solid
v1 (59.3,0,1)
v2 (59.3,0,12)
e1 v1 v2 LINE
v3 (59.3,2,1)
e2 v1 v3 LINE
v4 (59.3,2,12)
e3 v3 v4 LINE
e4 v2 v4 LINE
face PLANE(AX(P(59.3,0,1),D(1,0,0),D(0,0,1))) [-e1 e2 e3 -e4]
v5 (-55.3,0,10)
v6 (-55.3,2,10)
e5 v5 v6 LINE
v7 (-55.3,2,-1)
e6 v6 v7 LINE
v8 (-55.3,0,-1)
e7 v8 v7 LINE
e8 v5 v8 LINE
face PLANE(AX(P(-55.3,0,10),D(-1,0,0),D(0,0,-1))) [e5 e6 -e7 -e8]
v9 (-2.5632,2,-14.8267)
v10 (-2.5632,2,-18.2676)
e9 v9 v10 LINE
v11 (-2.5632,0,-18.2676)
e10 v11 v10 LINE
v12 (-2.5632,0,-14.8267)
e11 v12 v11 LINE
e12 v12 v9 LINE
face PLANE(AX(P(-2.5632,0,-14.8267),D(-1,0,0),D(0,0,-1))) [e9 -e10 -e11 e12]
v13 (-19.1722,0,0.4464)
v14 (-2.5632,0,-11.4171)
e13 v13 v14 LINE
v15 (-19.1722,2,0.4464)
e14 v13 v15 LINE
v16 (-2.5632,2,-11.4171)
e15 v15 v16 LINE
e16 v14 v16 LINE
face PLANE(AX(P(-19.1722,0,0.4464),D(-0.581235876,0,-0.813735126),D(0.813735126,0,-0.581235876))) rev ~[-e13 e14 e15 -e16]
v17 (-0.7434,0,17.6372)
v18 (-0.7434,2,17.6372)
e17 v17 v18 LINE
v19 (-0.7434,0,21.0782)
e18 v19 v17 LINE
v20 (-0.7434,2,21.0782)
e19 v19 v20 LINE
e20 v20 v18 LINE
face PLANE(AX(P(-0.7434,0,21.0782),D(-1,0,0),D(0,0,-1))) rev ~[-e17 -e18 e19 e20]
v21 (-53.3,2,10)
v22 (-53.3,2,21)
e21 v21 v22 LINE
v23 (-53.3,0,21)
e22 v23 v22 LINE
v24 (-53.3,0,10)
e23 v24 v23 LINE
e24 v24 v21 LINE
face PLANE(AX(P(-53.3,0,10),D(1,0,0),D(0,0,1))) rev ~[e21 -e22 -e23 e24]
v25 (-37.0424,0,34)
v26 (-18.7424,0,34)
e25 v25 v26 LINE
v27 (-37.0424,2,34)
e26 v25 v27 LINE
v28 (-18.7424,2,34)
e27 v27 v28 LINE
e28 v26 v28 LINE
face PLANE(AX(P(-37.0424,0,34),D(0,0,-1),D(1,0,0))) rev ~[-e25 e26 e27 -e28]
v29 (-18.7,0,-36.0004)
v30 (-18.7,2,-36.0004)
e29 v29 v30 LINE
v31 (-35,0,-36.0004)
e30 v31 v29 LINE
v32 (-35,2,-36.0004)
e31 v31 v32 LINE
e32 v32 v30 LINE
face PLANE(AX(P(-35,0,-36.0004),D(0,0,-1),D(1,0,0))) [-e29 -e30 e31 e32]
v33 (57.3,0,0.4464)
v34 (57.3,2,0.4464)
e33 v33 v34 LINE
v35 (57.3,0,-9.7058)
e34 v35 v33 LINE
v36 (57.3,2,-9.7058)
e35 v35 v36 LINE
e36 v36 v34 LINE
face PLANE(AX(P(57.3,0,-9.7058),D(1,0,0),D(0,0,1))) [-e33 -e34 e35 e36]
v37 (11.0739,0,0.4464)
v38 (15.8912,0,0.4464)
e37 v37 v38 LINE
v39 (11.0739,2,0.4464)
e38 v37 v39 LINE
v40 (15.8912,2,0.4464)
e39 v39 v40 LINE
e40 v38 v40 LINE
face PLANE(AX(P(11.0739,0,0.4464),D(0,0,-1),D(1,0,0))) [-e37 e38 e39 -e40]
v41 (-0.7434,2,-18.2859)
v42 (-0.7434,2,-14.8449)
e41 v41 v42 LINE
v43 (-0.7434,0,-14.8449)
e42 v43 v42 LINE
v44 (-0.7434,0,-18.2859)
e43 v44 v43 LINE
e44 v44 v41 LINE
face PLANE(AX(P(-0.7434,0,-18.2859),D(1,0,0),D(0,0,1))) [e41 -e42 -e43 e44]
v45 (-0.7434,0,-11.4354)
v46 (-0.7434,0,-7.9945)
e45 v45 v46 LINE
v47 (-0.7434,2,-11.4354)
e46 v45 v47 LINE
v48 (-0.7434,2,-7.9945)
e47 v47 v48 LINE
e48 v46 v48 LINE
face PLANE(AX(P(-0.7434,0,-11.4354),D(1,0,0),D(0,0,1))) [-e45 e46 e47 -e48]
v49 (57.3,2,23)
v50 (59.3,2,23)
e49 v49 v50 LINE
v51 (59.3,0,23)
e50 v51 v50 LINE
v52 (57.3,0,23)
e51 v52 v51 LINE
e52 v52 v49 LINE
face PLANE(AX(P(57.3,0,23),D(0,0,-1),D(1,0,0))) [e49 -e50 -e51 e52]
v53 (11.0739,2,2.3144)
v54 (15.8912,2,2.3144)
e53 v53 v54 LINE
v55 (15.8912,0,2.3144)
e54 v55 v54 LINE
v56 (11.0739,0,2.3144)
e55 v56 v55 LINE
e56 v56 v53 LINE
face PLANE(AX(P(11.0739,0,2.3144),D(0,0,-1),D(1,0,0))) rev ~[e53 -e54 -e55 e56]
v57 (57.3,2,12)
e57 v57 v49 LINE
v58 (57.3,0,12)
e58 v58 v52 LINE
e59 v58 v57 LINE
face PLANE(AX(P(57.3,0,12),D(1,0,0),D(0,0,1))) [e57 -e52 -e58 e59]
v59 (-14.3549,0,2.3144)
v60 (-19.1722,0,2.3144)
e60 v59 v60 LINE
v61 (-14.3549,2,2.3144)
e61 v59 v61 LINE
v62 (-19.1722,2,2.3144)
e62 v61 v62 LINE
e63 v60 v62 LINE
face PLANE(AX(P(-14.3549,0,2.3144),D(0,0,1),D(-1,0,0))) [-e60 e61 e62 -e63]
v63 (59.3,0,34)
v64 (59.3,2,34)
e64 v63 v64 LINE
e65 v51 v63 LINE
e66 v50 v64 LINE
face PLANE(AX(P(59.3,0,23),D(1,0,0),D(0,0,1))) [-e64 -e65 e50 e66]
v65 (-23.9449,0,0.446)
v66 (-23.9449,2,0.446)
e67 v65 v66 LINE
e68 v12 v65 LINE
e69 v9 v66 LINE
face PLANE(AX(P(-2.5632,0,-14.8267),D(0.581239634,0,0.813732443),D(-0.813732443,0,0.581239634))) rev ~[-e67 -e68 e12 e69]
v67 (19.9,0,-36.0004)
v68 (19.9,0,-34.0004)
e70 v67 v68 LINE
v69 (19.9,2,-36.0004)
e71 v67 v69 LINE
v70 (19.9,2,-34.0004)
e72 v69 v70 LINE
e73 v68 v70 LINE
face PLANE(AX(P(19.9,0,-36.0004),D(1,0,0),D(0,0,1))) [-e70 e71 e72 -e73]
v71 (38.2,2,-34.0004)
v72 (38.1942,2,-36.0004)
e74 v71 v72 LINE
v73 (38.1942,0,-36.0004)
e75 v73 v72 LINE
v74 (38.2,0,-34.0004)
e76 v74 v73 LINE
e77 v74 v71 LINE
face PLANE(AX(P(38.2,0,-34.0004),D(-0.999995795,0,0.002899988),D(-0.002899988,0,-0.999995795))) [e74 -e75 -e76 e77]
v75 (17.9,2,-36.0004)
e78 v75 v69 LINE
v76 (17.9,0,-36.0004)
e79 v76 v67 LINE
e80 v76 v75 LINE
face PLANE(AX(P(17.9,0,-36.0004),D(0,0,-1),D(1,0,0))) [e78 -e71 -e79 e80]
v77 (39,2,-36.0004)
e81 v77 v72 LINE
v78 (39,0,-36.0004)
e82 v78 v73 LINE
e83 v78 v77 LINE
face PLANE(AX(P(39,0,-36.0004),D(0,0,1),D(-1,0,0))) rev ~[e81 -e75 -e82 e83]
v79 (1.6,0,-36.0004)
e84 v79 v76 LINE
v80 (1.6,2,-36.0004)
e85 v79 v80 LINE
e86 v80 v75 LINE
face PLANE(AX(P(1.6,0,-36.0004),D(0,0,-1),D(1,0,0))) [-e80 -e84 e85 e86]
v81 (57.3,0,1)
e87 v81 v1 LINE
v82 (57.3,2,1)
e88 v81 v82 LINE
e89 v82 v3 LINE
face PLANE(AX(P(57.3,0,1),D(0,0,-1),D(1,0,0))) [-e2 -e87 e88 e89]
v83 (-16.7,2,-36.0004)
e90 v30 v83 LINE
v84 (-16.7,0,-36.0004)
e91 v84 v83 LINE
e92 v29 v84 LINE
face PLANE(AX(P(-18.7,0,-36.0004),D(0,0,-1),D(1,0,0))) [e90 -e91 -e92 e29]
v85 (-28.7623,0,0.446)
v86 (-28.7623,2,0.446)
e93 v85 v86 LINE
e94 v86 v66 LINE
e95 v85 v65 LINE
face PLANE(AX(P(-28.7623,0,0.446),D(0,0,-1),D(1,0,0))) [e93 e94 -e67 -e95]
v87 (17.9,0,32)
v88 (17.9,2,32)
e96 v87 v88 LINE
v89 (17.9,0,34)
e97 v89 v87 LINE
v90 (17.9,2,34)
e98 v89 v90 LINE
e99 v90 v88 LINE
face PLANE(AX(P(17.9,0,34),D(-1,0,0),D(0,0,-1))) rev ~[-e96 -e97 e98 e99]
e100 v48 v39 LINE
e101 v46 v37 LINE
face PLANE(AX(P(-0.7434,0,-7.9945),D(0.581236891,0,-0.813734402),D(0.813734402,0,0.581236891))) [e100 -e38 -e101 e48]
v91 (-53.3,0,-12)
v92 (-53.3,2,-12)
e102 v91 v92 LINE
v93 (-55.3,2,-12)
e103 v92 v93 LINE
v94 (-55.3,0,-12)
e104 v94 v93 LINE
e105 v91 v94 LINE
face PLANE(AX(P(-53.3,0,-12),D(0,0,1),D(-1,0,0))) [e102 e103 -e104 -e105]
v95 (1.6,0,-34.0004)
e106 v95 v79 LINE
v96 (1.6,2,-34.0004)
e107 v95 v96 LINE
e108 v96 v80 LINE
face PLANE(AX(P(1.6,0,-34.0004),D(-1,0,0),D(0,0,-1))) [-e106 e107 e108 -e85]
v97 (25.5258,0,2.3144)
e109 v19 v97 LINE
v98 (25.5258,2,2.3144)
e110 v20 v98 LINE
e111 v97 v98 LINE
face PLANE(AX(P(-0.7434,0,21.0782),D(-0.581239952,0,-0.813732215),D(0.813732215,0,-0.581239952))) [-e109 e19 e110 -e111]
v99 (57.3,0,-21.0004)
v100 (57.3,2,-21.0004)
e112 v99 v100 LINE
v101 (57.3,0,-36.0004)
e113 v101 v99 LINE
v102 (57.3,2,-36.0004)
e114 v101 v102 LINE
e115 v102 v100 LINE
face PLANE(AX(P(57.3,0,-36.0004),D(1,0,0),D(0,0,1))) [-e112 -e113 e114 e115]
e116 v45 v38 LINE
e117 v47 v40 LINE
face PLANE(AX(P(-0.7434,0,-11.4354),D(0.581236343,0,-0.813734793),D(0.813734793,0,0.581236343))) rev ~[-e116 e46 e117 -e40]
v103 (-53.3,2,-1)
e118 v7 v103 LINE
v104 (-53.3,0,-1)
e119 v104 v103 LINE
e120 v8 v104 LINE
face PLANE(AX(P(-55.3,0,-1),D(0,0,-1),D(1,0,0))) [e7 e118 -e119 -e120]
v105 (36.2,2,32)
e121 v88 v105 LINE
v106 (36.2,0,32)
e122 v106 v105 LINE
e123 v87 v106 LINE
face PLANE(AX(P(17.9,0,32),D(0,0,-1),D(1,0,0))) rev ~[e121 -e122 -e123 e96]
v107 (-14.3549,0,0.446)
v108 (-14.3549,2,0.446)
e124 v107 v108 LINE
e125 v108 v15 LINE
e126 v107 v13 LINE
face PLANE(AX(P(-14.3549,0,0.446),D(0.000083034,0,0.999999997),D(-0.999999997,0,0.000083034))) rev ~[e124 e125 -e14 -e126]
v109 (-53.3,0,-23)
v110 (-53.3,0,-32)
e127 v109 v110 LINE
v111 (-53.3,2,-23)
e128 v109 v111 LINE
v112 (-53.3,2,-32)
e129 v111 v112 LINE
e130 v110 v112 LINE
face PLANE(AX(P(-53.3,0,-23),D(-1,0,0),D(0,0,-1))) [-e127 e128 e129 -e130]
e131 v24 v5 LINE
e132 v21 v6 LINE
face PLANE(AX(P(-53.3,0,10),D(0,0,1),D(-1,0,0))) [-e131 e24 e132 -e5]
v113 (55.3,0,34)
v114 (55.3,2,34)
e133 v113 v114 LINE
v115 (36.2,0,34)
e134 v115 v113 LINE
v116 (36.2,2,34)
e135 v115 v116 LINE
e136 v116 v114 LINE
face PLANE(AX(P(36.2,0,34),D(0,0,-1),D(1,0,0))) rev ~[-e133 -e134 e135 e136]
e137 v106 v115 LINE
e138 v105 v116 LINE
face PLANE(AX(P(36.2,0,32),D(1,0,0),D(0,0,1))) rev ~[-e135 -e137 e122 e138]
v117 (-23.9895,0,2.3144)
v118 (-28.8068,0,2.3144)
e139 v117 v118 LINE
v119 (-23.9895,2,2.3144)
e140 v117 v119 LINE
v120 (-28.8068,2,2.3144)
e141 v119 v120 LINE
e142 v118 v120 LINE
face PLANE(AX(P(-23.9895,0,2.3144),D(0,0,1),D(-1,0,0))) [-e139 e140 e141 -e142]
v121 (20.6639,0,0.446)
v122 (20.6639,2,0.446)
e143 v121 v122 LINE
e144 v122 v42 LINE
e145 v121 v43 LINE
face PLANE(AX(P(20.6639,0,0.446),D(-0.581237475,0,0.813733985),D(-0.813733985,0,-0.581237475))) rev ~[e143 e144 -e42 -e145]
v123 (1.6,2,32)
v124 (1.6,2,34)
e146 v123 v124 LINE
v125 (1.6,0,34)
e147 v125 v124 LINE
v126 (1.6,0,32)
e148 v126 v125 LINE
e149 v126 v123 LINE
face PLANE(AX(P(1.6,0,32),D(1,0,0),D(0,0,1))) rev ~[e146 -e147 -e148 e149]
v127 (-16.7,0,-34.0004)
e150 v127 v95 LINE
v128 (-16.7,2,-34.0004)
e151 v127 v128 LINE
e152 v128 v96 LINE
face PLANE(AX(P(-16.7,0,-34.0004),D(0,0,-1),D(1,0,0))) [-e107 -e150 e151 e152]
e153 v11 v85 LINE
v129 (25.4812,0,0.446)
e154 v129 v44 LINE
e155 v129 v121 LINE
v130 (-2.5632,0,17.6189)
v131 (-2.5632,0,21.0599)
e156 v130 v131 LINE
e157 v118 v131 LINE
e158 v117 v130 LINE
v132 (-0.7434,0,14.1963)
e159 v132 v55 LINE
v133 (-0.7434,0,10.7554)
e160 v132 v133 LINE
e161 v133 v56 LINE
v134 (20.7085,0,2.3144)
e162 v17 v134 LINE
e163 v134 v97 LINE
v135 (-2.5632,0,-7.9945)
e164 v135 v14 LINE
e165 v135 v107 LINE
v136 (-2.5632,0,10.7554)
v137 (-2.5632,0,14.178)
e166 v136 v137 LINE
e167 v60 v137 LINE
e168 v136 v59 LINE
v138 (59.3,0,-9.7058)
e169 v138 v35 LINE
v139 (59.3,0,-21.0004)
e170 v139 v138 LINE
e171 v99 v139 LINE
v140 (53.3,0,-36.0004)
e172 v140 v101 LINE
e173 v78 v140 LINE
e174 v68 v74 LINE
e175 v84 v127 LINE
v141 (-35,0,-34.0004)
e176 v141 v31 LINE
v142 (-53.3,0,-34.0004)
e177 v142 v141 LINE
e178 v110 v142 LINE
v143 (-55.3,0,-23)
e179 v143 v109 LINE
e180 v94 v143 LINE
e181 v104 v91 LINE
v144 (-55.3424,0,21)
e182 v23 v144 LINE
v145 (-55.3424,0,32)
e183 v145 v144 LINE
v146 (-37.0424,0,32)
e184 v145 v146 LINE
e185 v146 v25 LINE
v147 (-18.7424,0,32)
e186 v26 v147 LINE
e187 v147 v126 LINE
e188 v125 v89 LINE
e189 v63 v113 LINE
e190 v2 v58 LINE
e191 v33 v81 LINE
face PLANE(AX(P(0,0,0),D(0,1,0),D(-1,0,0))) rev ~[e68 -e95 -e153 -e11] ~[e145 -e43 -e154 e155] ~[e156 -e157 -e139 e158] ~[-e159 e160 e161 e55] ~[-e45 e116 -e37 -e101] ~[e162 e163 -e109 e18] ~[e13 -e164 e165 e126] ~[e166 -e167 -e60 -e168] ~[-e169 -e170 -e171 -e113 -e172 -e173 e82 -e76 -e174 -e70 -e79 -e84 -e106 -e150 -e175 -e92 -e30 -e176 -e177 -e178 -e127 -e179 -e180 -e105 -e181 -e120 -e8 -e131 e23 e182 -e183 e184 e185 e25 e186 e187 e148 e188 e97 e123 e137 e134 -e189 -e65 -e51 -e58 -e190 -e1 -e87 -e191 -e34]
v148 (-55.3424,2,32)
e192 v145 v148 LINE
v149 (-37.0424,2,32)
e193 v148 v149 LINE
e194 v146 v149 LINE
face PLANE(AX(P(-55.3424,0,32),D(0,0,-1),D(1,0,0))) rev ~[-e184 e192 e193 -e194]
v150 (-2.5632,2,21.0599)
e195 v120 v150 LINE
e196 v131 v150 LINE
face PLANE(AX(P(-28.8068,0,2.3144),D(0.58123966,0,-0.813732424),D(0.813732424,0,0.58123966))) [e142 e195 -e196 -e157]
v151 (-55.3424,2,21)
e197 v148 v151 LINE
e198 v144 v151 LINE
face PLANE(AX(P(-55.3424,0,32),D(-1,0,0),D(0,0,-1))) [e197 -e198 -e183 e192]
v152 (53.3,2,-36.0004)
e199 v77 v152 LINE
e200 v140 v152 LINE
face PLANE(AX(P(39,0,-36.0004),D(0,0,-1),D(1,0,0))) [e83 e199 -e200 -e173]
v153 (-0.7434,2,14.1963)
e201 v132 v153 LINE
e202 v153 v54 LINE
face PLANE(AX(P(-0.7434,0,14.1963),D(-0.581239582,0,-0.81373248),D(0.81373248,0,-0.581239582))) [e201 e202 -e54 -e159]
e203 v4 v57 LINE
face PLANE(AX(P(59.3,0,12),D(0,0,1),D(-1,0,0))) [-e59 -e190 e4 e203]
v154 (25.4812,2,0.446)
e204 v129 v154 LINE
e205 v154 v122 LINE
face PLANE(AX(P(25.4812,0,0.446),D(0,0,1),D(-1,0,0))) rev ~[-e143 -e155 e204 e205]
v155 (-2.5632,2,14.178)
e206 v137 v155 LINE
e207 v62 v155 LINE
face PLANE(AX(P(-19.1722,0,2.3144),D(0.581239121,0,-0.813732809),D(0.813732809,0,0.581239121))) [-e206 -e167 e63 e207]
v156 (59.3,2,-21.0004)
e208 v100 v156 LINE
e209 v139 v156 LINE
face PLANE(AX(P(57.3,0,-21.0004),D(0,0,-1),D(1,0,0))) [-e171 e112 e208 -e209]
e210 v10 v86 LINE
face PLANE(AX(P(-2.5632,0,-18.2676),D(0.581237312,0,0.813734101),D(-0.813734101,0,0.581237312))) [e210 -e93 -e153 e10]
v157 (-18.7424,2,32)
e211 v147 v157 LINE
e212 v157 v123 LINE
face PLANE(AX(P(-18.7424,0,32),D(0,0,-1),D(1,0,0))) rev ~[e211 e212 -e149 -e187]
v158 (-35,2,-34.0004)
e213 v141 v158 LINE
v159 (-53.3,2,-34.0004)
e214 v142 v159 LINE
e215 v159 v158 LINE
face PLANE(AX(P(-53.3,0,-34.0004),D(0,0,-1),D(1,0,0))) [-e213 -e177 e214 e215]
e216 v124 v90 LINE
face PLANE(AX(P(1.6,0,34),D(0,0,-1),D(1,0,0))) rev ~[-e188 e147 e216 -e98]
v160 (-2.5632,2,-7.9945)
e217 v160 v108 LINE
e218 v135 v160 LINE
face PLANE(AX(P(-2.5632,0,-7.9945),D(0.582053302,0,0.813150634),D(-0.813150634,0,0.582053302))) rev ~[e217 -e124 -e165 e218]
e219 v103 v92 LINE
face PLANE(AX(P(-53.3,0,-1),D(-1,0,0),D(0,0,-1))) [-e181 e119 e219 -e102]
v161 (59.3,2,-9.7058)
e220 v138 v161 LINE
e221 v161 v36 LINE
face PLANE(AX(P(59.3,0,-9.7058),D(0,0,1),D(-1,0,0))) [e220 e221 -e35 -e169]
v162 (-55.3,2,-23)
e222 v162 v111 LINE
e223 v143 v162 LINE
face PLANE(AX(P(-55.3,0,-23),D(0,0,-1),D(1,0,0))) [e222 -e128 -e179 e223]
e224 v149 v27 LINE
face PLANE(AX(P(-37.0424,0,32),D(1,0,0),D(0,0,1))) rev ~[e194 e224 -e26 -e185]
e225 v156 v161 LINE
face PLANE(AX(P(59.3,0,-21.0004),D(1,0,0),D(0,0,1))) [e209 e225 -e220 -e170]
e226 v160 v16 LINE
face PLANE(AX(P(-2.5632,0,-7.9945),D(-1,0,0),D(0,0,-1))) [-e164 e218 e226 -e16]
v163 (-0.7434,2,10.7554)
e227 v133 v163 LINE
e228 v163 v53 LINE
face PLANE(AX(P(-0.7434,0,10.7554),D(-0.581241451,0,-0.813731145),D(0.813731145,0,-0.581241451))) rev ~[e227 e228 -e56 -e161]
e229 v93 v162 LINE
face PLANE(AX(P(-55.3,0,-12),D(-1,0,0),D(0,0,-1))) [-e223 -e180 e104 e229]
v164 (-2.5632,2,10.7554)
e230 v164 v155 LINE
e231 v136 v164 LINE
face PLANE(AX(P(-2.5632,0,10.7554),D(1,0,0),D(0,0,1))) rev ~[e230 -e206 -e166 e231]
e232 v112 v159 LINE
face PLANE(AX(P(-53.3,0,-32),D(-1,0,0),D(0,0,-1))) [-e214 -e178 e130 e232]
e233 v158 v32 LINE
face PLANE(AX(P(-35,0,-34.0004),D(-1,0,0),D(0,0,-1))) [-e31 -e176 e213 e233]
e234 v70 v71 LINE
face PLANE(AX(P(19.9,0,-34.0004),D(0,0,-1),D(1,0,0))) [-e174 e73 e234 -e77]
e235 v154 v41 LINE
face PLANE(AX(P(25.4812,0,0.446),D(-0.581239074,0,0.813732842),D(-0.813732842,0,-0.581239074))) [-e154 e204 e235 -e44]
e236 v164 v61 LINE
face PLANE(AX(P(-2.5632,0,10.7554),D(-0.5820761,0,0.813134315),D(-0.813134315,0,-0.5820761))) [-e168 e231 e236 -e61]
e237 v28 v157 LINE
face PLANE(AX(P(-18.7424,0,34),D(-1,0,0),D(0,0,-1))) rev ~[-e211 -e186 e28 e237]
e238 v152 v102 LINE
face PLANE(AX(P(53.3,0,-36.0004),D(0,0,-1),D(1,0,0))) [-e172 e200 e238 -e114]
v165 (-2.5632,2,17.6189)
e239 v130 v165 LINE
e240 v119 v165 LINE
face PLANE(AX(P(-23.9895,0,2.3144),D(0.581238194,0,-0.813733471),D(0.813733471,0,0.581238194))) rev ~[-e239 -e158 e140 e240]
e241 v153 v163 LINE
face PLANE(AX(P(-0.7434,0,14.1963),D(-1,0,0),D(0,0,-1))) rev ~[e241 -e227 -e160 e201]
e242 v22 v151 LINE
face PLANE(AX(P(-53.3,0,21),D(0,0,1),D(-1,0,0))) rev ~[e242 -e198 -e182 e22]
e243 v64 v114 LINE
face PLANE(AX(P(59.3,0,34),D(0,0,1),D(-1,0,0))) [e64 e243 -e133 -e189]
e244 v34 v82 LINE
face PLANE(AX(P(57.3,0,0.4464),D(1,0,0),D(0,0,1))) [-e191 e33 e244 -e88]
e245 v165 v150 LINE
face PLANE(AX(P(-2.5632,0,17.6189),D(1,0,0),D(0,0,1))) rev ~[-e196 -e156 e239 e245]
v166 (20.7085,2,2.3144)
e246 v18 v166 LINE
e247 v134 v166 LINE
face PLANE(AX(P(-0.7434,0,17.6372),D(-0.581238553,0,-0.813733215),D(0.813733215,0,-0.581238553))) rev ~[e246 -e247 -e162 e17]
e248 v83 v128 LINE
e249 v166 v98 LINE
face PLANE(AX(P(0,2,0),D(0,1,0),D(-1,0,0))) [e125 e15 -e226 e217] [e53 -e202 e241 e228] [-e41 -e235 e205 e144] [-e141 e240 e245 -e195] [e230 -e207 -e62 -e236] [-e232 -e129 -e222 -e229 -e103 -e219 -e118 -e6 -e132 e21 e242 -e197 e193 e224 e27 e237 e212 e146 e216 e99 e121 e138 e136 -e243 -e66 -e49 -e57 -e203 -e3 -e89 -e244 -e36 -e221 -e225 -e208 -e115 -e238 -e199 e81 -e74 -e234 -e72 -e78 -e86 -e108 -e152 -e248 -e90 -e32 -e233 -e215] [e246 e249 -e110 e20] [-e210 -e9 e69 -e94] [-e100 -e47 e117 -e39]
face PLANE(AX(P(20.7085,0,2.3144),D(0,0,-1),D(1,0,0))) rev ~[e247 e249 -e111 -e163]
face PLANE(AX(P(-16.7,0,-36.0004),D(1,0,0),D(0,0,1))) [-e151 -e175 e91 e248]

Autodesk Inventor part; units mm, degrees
ref_plane "YZ Plane" through (0, 0, 0) normal (1, 0, 0) x (0, 1, 0)
ref_plane "XZ Plane" through (0, 0, 0) normal (0, 1, 0) x (-1, 0, 0)
ref_plane "XY Plane" through (0, 0, 0) normal (0, 0, 1) x (1, 0, 0)
sketch "Sketch1" plane through (0, 0, 0) normal (0, 1, 0) x (-1, 0, 0)
  line L0 (-55.3, 34) -> (55.3, -34) construction
  line L1 (55.3424, 32) -> (55.3424, 21)
  line L2 (53.3, 10) -> (55.3, 10)
  line L3 (55.3, 10) -> (55.3, -1)
  line L4 (55.3, -1) -> (53.3, -1)
  line L5 (53.3, -1) -> (53.3, -12)
  line L6 (53.3, -12) -> (55.3, -12)
  line L7 (55.3, -12) -> (55.3, -23)
  line L8 (55.3, -23) -> (53.3, -23)
  line L9 (55.3424, 21) -> (55.3424, 32)
  line L10 (55.3, -23) -> (55.3, -12)
  line L11 (55.3, -1) -> (55.3, 10)
  line L12 (-53.3, 0.4465) -> (-53.3, 0.446)
  line L13 (-53.3487, -21) -> (-53.3, -21)
  line L14 (55.3424, 32) -> (37.0424, 32)
  line L15 (37.0424, 32) -> (37.0424, 34)
  line L16 (37.0424, 34) -> (18.7424, 34)
  line L17 (18.7424, 34) -> (18.7424, 32)
  line L18 (18.7424, 32) -> (-1.6, 32)
  line L19 (-1.6, 32) -> (-1.6, 34)
  line L20 (-1.6, 34) -> (-17.9, 34)
  line L21 (-17.9, 34) -> (-17.9, 32)
  line L22 (-17.9, 32) -> (-36.2, 32)
  line L23 (-36.2, 32) -> (-36.2, 34)
  line L24 (37.0424, 34) -> (18.7424, 34)
  line L25 (-1.6, 34) -> (-17.9, 34)
  line L26 (-36.2, 34) -> (-55.3, 34)
  line L27 (2.5632, 10.7554) -> (14.3549, 2.3144)
  line L28 (0.7434, 10.7554) -> (-11.0739, 2.3144)
  line L29 (19.1722, 2.3144) -> (2.5632, 14.178)
  line L30 (0.7434, 14.1963) -> (-15.8912, 2.3144)
  line L31 (-20.6639, 0.446) -> (0.7434, -14.8449)
  line L32 (2.5632, -14.8267) -> (23.9449, 0.446)
  line L33 (23.9895, 2.3144) -> (2.5632, 17.6189)
  line L34 (0.7434, 17.6372) -> (-20.7085, 2.3144)
  line L35 (-25.4812, 0.446) -> (0.7434, -18.2859)
  line L36 (2.5632, -18.2676) -> (28.7623, 0.446)
  line L37 (28.8068, 2.3144) -> (2.5632, 21.0599)
  line L38 (41.2856, 32.5499) -> (41.2856, 32.5817)
  line L39 (54.8971, 24.1408) -> (54.9227, 24.1408)
  line L40 (14.3549, 0.446) -> (14.3549, 0.4779)
  line L41 (0.7434, 21.0782) -> (-25.5258, 2.3144)
  line L42 (-11.0739, 2.3144) -> (-15.8912, 2.3144)
  line L43 (-20.7085, 2.3144) -> (-25.5258, 2.3144)
  line L44 (0.7434, 21.0782) -> (0.7434, 17.6372)
  line L45 (0.7434, 14.1963) -> (0.7434, 10.7554)
  line L46 (2.5632, 10.7554) -> (2.5632, 14.178)
  line L47 (2.5632, 17.6189) -> (2.5632, 21.0599)
  line L48 (14.3549, 2.3144) -> (19.1722, 2.3144)
  line L49 (23.9895, 2.3144) -> (28.8068, 2.3144)
  line L50 (28.7623, 0.446) -> (23.9449, 0.446)
  line L51 (2.5632, -14.8267) -> (2.5632, -18.2676)
  line L52 (0.7434, -18.2859) -> (0.7434, -14.8449)
  line L53 (-25.4812, 0.446) -> (-20.6639, 0.446)
  line L54 (-11.0739, 0.4464) -> (-15.8912, 0.4464)
  line L55 (0.7434, -7.9945) -> (-11.0739, 0.4464)
  line L56 (0.7434, -11.4354) -> (-15.8912, 0.4464)
  line L57 (0.7434, -11.4354) -> (0.7434, -7.9945)
  line L58 (-11.7935, 1.3804) -> (-5.9618, 1.3804)
  line L59 (2.5632, 10.7554) -> (2.5632, 10.7554)
  line L60 (2.5632, -7.9945) -> (2.5632, -11.4171)
  line L61 (14.3549, 0.4464) -> (19.1722, 0.4464)
  line L62 (19.1722, 0.4464) -> (2.5632, -11.4171)
  line L63 (2.5632, -7.9945) -> (14.3549, 0.4464)
  line L64 (19.1722, 0.4464) -> (14.3549, 0.4464)
  line L65 (14.3549, 0.4464) -> (2.5632, -7.9945)
  line L66 (2.5632, -7.9945) -> (2.5632, -11.4171)
  line L67 (2.5632, -11.4171) -> (19.1722, 0.4464)
  line L68 (53.3, 10) -> (53.3, 21)
  line L69 (53.3, 21) -> (55.3424, 21)
  line L70 (53.3, -34.0004) -> (53.3, -34.0004)
  line L71 (53.3, -23) -> (53.3, -32)
  line L72 (34.2, -32.0004) -> (34.2, -32)
  line L73 (55.3, 34) -> (-52.0471, -32) construction
  line L74 (53.3, -32) -> (53.3, -34.0004)
  line L75 (-39, -36.0004) -> (-53.3, -36.0004)
  line L76 (-53.3, -36.0004) -> (-57.3, -36.0004)
  line L77 (-57.3, -36.0004) -> (-57.3, -21.0004)
  line L78 (-57.3, -21.0004) -> (-59.3, -21.0004)
  line L79 (-59.3, -21.0004) -> (-59.3, -9.7058)
  line L80 (-59.3, -9.7058) -> (-57.3, -9.7058)
  line L81 (-57.3, -9.7058) -> (-57.3, 0.4464)
  line L82 (-57.3, 0.4464) -> (-57.3, 1)
  line L83 (-57.3, 1) -> (-59.3, 1)
  line L84 (-59.3, 1) -> (-59.3, 12)
  line L85 (-59.3, 12) -> (-57.3, 12)
  line L86 (-57.3, 12) -> (-57.3, 23)
  line L87 (-57.3, 23) -> (-59.3, 23)
  line L88 (-59.3, 23) -> (-59.3, 34)
  line L89 (-59.3, 34) -> (-55.3, 34)
  line L90 (-53.3, -21) -> (-53.3, -21.0004)
  line L91 (-55.3, 32.0365) -> (-55.3, 32)
  line L92 (-55.3, 32.0365) -> (-55.3, 32)
  line L93 (-39, -36.0004) -> (-38.1942, -36.0004)
  line L94 (53.3, -34.0004) -> (35, -34.0004)
  line L95 (35, -34.0004) -> (35, -36.0004)
  line L96 (35, -36.0004) -> (18.7, -36.0004)
  line L97 (18.7, -36.0004) -> (16.7, -36.0004)
  line L98 (16.7, -36.0004) -> (16.7, -34.0004)
  line L99 (16.7, -34.0004) -> (-1.6, -34.0004)
  line L100 (-1.6, -34.0004) -> (-1.6, -36.0004)
  line L101 (-1.6, -36.0004) -> (-17.9, -36.0004)
  line L102 (-17.9, -36.0004) -> (-19.9, -36.0004)
  line L103 (-19.9, -36.0004) -> (-19.9, -34.0004)
  line L104 (-19.9, -34.0004) -> (-38.2, -34.0004)
  line L105 (-38.2, -34.0004) -> (-38.1942, -36.0004)
  point P0 (0, 0)
  point P1 (-53.3, 20.3166)
  point P2 (-53.3, 1)
  point P3 (-53.3, -10)
  point P4 (-55.3, -18.9529)
  point P5 (-53.3, -32.7703)
  point P6 (-16.7, -32.027)
  point P7 (-21.4801, -32.0004)
  point P8 (-17.9, -36.0004)
  dimension "d30" = 1.868
  dimension "d31" = 0.934
  dimension "d34" = 11
  dimension "d35" = 11
  dimension "d36" = 11
  dimension "d37" = 11
  dimension "d38" = 11
  dimension "d61" = 4
  dimension "d70" = 18.3
  dimension "d72" = 2
  dimension "d73" = 18.3
  dimension "d75" = 2
extrude "Extrusion1" add sketch "Sketch1" along normal blind 2
properties part number "ATAS"
